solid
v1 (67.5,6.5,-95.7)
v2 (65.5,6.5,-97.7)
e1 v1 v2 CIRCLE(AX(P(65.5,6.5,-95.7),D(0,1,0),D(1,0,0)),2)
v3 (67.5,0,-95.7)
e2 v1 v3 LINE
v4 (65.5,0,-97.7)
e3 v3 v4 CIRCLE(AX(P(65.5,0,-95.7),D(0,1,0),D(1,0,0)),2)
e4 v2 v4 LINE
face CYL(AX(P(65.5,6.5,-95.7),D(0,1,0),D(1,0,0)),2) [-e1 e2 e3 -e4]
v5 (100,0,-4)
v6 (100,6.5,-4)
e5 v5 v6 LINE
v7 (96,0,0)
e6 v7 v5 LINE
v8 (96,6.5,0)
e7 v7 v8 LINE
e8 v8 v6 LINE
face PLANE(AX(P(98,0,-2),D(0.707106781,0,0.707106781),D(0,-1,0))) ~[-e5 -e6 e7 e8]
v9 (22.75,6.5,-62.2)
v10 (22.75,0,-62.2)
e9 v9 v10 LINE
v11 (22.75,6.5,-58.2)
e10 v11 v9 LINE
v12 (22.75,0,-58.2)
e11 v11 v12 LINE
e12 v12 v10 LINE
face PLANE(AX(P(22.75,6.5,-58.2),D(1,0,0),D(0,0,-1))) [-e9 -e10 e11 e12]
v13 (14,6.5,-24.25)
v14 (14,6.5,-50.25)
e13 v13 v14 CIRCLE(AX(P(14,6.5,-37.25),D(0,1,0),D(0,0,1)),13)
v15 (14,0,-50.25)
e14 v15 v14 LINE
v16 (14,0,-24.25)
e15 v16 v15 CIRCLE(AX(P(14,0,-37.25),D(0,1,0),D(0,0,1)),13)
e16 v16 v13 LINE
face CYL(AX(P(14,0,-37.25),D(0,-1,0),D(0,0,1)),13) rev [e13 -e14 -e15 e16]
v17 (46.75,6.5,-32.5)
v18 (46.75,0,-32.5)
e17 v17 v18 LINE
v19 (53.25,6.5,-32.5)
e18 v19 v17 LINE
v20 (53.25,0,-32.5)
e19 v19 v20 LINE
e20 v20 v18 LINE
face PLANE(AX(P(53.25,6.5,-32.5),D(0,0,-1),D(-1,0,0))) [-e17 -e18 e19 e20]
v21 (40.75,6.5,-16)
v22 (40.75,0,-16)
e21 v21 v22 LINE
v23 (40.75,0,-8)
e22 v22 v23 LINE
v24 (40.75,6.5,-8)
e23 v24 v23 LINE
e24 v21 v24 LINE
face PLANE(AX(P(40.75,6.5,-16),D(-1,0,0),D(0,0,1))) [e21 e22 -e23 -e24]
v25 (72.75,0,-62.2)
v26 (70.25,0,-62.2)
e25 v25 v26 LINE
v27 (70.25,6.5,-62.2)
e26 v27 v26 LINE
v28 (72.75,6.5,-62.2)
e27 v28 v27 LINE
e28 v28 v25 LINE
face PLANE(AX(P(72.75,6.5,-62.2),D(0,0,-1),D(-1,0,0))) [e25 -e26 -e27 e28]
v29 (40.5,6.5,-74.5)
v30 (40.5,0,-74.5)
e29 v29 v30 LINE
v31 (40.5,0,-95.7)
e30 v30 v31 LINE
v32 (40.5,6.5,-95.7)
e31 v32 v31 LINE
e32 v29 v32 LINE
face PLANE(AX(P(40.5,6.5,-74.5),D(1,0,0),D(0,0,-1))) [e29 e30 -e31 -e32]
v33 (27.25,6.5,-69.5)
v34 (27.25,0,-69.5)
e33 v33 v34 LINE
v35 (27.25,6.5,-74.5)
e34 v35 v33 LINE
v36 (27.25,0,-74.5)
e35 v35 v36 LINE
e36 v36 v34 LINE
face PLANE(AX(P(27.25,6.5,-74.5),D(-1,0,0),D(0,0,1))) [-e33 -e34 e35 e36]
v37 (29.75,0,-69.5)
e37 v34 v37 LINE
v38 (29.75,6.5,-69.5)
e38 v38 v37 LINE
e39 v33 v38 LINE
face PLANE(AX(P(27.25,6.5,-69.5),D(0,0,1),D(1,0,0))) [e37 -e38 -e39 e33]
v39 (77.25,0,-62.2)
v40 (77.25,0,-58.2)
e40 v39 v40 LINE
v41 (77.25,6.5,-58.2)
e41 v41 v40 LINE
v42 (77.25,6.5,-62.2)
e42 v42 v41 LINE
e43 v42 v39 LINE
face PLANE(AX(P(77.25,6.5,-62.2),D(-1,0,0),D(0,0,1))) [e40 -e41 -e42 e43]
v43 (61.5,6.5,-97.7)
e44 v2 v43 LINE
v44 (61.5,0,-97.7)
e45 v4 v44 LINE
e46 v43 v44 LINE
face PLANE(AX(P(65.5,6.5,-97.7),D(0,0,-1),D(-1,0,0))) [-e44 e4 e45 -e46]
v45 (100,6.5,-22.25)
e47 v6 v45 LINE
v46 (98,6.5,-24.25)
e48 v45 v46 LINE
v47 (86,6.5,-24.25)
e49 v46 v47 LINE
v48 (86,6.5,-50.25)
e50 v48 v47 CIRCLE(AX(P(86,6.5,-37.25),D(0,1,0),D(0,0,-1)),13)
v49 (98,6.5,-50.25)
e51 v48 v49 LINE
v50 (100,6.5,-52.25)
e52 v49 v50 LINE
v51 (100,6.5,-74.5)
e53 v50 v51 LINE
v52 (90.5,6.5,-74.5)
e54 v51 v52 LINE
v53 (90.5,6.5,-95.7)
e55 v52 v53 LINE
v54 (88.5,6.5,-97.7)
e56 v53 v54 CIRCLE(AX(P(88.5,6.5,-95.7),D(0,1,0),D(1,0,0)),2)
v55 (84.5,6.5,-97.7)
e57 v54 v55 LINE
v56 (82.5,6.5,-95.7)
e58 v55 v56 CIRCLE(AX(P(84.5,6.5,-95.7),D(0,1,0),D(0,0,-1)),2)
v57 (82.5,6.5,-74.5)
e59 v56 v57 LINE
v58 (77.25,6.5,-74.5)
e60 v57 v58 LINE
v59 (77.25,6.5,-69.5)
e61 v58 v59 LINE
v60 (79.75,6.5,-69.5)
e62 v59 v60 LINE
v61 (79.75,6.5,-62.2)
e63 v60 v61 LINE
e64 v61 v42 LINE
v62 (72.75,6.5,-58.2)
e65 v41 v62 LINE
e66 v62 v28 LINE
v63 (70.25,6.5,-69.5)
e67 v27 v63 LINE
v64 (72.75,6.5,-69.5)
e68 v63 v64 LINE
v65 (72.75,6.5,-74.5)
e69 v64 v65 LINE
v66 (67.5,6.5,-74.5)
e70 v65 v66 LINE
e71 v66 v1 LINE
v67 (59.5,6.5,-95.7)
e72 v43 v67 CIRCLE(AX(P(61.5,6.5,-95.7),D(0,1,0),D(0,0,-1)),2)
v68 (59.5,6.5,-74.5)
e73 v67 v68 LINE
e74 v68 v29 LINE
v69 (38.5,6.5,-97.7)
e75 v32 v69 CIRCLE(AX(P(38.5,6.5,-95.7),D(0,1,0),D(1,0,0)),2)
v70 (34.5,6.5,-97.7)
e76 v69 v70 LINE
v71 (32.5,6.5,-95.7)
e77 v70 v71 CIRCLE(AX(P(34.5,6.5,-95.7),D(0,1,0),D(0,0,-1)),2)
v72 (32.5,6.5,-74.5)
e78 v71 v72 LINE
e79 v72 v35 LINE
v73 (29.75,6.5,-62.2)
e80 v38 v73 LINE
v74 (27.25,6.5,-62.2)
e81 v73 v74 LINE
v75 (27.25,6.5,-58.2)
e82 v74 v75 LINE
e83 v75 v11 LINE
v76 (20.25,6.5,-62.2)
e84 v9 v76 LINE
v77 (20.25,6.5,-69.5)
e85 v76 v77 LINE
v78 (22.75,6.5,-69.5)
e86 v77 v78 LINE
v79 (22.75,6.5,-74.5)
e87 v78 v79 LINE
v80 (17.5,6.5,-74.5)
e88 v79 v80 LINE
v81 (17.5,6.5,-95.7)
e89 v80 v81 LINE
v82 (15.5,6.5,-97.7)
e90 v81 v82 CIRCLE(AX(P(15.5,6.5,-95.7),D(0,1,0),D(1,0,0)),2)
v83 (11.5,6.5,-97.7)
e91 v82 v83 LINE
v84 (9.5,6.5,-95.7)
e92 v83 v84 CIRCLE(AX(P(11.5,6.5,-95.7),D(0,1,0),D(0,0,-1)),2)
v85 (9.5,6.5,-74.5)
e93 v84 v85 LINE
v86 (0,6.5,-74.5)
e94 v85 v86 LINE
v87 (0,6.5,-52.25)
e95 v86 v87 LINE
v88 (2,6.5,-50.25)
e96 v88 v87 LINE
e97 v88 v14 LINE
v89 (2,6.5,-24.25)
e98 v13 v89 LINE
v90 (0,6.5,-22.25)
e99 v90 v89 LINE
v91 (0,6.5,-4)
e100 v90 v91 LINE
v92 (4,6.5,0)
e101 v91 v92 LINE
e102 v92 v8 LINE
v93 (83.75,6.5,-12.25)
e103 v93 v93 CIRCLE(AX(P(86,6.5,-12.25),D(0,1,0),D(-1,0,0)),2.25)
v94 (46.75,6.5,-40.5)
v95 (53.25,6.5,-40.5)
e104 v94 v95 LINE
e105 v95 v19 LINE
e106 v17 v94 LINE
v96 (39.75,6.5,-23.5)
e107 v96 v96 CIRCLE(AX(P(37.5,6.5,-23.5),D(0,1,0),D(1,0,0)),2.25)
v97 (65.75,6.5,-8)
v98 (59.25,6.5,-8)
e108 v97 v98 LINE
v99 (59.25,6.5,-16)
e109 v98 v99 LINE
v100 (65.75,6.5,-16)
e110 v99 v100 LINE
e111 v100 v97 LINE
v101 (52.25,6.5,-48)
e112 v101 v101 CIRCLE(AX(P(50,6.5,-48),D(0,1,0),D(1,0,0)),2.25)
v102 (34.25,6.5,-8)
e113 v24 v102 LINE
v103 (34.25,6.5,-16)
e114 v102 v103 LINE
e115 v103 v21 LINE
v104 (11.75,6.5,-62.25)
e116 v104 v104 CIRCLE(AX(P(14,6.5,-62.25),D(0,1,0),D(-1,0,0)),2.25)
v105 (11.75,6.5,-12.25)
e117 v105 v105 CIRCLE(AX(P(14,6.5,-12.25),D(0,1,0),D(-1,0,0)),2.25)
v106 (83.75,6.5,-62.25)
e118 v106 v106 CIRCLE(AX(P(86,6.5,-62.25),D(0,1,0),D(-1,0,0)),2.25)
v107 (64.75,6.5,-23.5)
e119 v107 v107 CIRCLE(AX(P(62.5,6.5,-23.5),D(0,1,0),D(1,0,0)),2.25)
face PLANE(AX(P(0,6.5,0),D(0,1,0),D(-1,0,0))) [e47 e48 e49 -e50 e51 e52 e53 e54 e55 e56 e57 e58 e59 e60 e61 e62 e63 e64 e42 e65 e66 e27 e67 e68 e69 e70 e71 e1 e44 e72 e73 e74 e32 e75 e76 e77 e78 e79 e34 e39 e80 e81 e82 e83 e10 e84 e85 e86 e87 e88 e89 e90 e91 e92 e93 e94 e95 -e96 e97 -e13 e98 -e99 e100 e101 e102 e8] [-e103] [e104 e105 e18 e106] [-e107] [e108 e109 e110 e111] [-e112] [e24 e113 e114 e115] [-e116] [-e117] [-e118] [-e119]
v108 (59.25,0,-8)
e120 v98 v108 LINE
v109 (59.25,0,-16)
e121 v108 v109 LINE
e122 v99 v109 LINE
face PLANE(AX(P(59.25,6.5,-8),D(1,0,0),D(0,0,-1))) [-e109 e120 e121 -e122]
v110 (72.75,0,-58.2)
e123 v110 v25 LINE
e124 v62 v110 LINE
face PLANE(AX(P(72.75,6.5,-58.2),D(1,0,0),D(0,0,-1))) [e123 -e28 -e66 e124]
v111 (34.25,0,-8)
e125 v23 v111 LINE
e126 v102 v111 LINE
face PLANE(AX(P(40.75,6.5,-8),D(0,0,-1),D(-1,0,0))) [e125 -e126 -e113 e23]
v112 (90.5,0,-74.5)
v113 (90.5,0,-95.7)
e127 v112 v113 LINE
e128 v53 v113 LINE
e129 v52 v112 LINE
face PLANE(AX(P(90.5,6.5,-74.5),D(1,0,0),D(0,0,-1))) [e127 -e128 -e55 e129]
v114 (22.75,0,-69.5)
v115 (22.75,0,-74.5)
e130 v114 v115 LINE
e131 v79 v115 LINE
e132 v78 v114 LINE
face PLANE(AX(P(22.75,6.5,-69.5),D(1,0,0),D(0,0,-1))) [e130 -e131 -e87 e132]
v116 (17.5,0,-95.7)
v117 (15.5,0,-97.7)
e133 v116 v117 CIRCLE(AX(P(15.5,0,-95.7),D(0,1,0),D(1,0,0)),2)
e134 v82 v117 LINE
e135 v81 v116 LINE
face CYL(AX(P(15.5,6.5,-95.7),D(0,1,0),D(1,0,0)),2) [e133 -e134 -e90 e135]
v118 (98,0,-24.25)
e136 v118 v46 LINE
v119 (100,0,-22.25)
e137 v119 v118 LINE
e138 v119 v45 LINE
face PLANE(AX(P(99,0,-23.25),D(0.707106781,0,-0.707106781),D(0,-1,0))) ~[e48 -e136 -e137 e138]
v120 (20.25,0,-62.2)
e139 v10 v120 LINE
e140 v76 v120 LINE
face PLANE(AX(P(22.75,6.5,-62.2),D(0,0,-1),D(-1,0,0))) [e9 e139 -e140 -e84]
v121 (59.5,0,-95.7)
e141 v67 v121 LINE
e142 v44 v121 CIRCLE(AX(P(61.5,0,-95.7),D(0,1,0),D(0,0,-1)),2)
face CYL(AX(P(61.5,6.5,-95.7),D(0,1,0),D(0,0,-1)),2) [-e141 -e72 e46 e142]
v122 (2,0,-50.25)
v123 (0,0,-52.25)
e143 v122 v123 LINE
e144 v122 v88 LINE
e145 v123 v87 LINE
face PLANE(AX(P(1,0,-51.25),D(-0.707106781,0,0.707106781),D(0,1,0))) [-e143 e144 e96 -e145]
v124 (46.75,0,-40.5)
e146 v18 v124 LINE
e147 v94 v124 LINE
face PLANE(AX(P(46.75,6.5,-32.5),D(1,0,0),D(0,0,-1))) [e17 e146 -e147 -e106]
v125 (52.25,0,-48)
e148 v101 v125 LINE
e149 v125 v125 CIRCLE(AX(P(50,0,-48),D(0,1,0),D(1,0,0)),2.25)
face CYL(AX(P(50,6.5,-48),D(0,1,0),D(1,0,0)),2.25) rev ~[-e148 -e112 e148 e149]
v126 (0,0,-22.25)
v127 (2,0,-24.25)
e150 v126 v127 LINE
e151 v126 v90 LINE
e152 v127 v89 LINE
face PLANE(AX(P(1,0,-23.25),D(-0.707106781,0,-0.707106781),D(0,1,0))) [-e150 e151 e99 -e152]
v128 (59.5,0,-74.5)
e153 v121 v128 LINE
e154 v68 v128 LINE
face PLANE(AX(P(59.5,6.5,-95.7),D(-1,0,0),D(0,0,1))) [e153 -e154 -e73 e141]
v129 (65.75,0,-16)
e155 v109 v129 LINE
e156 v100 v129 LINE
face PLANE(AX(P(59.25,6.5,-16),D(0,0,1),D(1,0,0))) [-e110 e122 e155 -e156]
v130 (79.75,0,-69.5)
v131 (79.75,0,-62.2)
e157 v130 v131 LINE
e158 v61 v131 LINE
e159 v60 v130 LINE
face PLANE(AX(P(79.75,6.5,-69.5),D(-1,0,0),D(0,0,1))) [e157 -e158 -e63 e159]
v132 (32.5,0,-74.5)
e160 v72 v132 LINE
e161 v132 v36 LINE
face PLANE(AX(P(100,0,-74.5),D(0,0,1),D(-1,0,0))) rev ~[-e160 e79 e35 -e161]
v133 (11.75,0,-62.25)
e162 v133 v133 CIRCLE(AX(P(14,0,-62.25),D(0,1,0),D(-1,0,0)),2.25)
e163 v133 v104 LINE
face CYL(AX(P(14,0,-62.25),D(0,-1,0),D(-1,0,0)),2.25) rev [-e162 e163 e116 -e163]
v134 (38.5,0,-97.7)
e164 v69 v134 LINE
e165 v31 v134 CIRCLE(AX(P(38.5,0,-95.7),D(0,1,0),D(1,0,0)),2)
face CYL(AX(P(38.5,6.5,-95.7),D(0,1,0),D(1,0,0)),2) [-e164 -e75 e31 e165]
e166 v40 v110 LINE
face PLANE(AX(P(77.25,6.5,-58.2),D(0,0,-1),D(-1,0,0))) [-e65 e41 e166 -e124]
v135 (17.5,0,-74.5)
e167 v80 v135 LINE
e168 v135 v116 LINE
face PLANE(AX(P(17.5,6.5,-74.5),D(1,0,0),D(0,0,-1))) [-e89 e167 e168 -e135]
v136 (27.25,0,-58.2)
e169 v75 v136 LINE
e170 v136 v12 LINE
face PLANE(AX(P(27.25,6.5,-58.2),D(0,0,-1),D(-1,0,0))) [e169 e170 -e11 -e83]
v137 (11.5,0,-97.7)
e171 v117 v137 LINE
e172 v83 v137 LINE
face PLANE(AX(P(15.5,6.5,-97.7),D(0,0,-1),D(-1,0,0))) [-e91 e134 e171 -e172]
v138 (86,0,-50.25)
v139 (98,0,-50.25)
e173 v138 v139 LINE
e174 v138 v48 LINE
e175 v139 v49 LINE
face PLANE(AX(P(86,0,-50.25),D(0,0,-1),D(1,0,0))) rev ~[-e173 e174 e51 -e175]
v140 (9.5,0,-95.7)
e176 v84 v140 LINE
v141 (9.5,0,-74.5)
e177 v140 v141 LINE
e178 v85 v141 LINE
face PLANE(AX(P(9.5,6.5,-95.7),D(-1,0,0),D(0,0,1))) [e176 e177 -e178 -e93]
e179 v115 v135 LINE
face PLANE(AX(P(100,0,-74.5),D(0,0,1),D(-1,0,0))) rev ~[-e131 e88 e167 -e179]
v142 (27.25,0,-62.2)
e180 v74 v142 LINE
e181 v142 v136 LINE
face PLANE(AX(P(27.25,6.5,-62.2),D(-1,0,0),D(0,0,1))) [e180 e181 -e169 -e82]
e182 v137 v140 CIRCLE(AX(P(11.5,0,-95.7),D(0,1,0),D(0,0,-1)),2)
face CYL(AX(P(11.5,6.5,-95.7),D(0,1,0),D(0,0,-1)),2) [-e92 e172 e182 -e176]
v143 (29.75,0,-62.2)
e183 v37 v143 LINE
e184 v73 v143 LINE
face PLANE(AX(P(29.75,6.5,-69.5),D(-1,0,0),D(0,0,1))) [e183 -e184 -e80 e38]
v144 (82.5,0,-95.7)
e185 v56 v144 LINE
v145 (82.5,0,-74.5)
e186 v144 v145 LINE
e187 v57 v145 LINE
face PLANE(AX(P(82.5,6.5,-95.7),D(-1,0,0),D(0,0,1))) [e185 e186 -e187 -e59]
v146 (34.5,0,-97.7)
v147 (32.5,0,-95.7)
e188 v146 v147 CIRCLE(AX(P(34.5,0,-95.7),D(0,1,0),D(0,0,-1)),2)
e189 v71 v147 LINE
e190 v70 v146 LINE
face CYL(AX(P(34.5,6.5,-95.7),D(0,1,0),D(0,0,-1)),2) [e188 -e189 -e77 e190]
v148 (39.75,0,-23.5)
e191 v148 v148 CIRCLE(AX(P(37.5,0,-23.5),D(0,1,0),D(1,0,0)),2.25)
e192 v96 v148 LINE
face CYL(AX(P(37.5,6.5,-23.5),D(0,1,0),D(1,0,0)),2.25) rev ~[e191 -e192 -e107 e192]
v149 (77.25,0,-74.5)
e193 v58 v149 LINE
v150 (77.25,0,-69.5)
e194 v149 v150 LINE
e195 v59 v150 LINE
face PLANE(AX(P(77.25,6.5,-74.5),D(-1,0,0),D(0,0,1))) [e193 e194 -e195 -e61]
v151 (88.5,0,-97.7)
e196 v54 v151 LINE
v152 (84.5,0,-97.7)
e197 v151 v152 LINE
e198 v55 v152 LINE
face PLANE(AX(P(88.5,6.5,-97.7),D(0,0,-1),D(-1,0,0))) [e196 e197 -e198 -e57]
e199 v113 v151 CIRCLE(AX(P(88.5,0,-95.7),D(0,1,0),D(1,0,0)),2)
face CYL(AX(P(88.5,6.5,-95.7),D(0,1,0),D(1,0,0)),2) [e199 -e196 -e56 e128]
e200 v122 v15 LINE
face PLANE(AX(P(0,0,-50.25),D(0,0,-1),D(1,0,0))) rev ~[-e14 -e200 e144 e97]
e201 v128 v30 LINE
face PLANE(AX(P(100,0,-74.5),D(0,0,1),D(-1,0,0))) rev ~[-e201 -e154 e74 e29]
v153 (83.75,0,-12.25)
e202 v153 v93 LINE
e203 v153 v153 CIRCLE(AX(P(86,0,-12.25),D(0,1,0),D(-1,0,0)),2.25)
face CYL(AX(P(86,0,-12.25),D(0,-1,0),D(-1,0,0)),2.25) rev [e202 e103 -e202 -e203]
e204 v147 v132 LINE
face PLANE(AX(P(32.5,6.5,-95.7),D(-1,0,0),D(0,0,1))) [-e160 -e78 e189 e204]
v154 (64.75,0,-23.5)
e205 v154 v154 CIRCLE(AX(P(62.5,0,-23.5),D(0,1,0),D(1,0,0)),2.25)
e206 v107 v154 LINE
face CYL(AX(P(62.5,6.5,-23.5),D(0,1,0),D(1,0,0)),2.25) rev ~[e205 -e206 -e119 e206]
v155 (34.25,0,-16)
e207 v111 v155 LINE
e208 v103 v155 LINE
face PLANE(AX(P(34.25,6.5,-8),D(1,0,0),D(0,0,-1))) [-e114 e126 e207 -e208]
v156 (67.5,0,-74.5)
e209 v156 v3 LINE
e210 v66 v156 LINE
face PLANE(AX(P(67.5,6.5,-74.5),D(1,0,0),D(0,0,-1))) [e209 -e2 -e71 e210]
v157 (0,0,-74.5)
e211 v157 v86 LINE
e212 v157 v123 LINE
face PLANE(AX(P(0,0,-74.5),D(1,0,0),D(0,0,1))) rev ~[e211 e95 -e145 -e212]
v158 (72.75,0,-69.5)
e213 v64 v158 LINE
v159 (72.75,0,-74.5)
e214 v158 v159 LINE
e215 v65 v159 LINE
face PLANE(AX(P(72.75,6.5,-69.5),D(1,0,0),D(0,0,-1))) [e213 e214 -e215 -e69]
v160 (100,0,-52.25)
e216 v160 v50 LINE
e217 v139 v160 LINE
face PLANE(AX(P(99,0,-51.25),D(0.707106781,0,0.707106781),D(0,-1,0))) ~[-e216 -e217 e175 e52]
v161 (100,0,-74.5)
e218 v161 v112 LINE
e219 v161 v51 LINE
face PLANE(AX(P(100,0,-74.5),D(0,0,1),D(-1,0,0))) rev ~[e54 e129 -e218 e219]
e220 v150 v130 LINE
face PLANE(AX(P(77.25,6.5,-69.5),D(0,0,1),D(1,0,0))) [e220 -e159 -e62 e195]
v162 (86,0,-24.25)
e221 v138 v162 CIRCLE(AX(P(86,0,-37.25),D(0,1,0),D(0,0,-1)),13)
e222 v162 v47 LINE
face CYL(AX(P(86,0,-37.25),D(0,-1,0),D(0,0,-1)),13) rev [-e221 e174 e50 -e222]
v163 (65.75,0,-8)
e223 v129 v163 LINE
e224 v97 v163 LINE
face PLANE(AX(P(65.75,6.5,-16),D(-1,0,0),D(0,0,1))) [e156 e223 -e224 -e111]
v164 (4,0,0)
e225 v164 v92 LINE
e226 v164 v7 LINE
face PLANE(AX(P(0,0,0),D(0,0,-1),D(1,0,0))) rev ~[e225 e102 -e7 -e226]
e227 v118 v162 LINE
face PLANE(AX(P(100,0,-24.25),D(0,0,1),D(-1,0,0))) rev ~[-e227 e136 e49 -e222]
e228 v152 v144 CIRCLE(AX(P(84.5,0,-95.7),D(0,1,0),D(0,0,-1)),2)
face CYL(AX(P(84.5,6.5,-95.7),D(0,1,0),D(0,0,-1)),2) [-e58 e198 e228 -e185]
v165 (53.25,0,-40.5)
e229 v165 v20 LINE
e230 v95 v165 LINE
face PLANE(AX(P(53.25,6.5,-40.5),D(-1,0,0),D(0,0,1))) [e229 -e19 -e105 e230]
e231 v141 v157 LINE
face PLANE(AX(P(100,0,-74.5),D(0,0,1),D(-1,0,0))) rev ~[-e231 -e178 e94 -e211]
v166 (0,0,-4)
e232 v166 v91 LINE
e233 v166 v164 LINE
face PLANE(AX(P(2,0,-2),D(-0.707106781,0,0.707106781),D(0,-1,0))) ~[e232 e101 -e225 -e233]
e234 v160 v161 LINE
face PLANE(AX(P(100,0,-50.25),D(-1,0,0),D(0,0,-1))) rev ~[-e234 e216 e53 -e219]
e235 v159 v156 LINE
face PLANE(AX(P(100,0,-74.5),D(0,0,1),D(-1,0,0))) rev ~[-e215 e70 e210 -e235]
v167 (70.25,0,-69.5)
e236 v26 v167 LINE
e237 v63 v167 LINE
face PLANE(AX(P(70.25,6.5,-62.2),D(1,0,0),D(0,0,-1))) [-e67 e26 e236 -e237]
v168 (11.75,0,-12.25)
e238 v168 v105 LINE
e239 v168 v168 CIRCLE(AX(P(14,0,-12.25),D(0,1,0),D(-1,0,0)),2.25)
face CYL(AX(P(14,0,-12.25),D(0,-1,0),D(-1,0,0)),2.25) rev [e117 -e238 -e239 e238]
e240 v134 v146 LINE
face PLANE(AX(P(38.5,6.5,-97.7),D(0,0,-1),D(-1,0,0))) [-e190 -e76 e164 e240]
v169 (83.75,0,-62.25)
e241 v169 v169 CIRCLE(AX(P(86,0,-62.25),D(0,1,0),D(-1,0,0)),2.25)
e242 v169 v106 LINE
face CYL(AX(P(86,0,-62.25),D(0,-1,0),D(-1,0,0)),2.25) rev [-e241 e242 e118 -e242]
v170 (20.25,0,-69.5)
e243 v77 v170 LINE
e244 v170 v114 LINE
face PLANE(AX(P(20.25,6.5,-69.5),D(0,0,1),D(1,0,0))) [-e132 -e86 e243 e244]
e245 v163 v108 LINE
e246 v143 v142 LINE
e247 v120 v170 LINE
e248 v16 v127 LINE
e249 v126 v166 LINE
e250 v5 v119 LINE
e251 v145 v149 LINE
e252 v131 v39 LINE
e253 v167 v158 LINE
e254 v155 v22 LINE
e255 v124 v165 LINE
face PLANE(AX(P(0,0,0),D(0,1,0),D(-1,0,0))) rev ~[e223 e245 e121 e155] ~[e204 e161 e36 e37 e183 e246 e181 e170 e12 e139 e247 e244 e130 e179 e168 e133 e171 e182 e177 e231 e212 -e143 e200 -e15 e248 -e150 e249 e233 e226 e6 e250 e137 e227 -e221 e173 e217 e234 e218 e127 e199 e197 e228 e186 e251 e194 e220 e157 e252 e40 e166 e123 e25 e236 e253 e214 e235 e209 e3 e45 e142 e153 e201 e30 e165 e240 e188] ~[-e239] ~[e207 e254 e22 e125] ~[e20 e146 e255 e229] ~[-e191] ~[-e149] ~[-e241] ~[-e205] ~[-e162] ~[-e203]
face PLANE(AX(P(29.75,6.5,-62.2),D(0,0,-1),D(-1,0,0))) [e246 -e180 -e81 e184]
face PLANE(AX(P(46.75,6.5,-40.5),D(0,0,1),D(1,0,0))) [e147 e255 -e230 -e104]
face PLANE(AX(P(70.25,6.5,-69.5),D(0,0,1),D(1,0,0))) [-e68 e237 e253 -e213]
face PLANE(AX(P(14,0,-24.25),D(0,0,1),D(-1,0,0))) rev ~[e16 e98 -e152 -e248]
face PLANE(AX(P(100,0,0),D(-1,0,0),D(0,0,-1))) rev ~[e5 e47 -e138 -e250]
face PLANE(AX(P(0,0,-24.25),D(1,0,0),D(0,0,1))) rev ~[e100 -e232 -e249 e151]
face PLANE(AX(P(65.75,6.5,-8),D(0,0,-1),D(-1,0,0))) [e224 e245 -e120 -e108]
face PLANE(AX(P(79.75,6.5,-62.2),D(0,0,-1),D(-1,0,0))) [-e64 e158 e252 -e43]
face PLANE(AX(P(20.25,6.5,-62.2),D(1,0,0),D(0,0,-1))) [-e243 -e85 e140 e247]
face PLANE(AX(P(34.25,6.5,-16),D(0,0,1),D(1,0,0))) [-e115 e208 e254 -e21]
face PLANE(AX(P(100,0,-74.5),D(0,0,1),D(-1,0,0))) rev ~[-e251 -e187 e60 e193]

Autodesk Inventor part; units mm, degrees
ref_plane "YZ Plane" through (0, 0, 0) normal (1, 0, 0) x (0, 1, 0)
ref_plane "XZ Plane" through (0, 0, 0) normal (0, 1, 0) x (-1, 0, 0)
ref_plane "XY Plane" through (0, 0, 0) normal (0, 0, 1) x (1, 0, 0)
sketch "Sketch1" plane through (0, 0, 0) normal (0, 1, 0) x (-1, 0, 0)
  line L0 (0, 0) -> (-100, 0)
  line L1 (-100, 0) -> (-100, -24.25)
  line L2 (-100, -24.25) -> (-86, -24.25)
  arc A0 (-86, -50.25) -> (-86, -24.25) centre (-86, -37.25) ccw
  line L3 (-86, -50.25) -> (-100, -50.25)
  line L4 (-100, -50.25) -> (-100, -74.5)
  line L5 (-100, -74.5) -> (0, -74.5)
  line L6 (0, -74.5) -> (0, -50.25)
  line L7 (0, -50.25) -> (-14, -50.25)
  arc A1 (-14, -24.25) -> (-14, -50.25) centre (-14, -37.25) ccw
  line L8 (-14, -24.25) -> (0, -24.25)
  line L9 (0, -24.25) -> (0, 0)
  circle A2 centre (-14, -62.25) radius 2.25
  circle A3 centre (-14, -12.25) radius 2.25
  circle A4 centre (-86, -62.25) radius 2.25
  circle A5 centre (-86, -12.25) radius 2.25
  dimension "d0" = 13
  dimension "d1" = 50
  dimension "d2" = 4.5
  dimension "d3" = 25
  dimension "d5" = 12.25
  dimension "d6" = 100
  dimension "d10" = 14
extrude "Extrusion1" add sketch "Sketch1" along normal blind 6.5
sketch "Sketch3" plane through (0, 6.5, 0) normal (0, 1, 0) x (1, 0, 0)
  line L0 (100, 74.5) -> (0, 74.5) projected
  line L1 (22.75, 74.5) -> (27.25, 74.5)
  line L2 (27.25, 58.2) -> (22.75, 58.2)
  line L3 (29.75, 69.5) -> (29.75, 62.2)
  line L4 (20.25, 62.2) -> (20.25, 69.5)
  line L5 (27.25, 74.5) -> (27.25, 69.5)
  line L6 (27.25, 62.2) -> (27.25, 58.2)
  line L7 (22.75, 58.2) -> (22.75, 62.2)
  line L8 (22.75, 69.5) -> (22.75, 74.5)
  line L9 (20.25, 69.5) -> (22.75, 69.5)
  line L10 (27.25, 69.5) -> (29.75, 69.5)
  line L11 (29.75, 62.2) -> (27.25, 62.2)
  line L12 (22.75, 62.2) -> (20.25, 62.2)
  line L13 (72.75, 74.5) -> (77.25, 74.5)
  line L14 (77.25, 58.2) -> (72.75, 58.2)
  line L15 (79.75, 69.5) -> (79.75, 62.2)
  line L16 (70.25, 62.2) -> (70.25, 69.5)
  line L17 (77.25, 74.5) -> (77.25, 69.5)
  line L18 (77.25, 62.2) -> (77.25, 58.2)
  line L19 (72.75, 58.2) -> (72.75, 62.2)
  line L20 (72.75, 69.5) -> (72.75, 74.5)
  line L21 (70.25, 69.5) -> (72.75, 69.5)
  line L22 (77.25, 69.5) -> (79.75, 69.5)
  line L23 (79.75, 62.2) -> (77.25, 62.2)
  line L24 (72.75, 62.2) -> (70.25, 62.2)
  line L25 (29.75, 65.85) -> (70.25, 65.85) construction
  point P0 (25, 58.2)
  point P1 (75, 58.2)
  point P2 (50, 65.85)
  point P3 (50, 74.5)
  dimension "d15" = 4.5
  dimension "d16" = 2.5
  dimension "d17" = 4
  dimension "d18" = 5
  dimension "d19" = 7.3
  dimension "d20" = 4.5
  dimension "d21" = 2.5
  dimension "d22" = 4
  dimension "d23" = 5
  dimension "d24" = 7.3
  dimension "d25" = 50
extrude "Extrusion2" cut sketch "Sketch3" against normal through all
sketch "Sketch4" plane through (0, 6.5, 0) normal (0, 1, 0) x (1, 0, 0)
  line L0 (22.75, 74.5) -> (0, 74.5) projected
  line L1 (100, 74.5) -> (77.25, 74.5) projected
  line L2 (77.25, 58.2) -> (72.75, 58.2) projected
  line L3 (72.75, 74.5) -> (27.25, 74.5) projected
  line L4 (27.25, 58.2) -> (22.75, 58.2) projected
  line L5 (9.5, 74.5) -> (17.5, 74.5)
  line L6 (17.5, 74.5) -> (17.5, 95.7)
  line L7 (15.5, 97.7) -> (11.5, 97.7)
  line L8 (9.5, 95.7) -> (9.5, 74.5)
  line L9 (32.5, 74.5) -> (40.5, 74.5)
  line L10 (40.5, 74.5) -> (40.5, 95.7)
  line L11 (38.5, 97.7) -> (34.5, 97.7)
  line L12 (32.5, 95.7) -> (32.5, 74.5)
  line L13 (59.5, 74.5) -> (67.5, 74.5)
  line L14 (67.5, 74.5) -> (67.5, 95.7)
  line L15 (65.5, 97.7) -> (61.5, 97.7)
  line L16 (59.5, 95.7) -> (59.5, 74.5)
  line L17 (82.5, 74.5) -> (90.5, 74.5)
  line L18 (90.5, 74.5) -> (90.5, 95.7)
  line L19 (88.5, 97.7) -> (84.5, 97.7)
  line L20 (82.5, 95.7) -> (82.5, 74.5)
  arc A0 (11.5, 97.7) -> (9.5, 95.7) centre (11.5, 95.7) ccw
  arc A1 (17.5, 95.7) -> (15.5, 97.7) centre (15.5, 95.7) ccw
  arc A2 (34.5, 97.7) -> (32.5, 95.7) centre (34.5, 95.7) ccw
  arc A3 (40.5, 95.7) -> (38.5, 97.7) centre (38.5, 95.7) ccw
  arc A4 (61.5, 97.7) -> (59.5, 95.7) centre (61.5, 95.7) ccw
  arc A5 (67.5, 95.7) -> (65.5, 97.7) centre (65.5, 95.7) ccw
  arc A6 (84.5, 97.7) -> (82.5, 95.7) centre (84.5, 95.7) ccw
  arc A7 (90.5, 95.7) -> (88.5, 97.7) centre (88.5, 95.7) ccw
  point P0 (25, 58.2)
  point P1 (75, 58.2)
  dimension "d28" = 2
  dimension "d29" = 23.2
  dimension "d30" = 8
  dimension "d31" = 8
  dimension "d32" = 8
  dimension "d33" = 8
  dimension "d34" = 15
  dimension "d35" = 15
  dimension "d36" = 7.5
  dimension "d37" = 7.5
extrude "Extrusion3" add sketch "Sketch4" against normal blind 6.5
chamfer "Chamfer1" distance 4 angle 45 2 edges at (100, 3.25, 0) (0, 3.25, 0)
chamfer "Chamfer2" distance 2 angle 45 4 edges at (100, 3.25, -24.25) (100, 3.25, -50.25) (0, 3.25, -50.25) (0, 3.25, -24.25)
sketch "Sketch5" plane through (0, 6.5, 0) normal (0, 1, 0) x (1, 0, 0)
  line L0 (4, 0) -> (96, 0) projected
  line L1 (34.25, 16) -> (40.75, 16)
  line L2 (40.75, 16) -> (40.75, 8)
  line L3 (40.75, 8) -> (34.25, 8)
  line L4 (34.25, 8) -> (34.25, 16)
  line L5 (59.25, 16) -> (65.75, 16)
  line L6 (65.75, 16) -> (65.75, 8)
  line L7 (65.75, 8) -> (59.25, 8)
  line L8 (59.25, 8) -> (59.25, 16)
  circle A0 centre (37.5, 23.5) radius 2.25
  circle A1 centre (62.5, 23.5) radius 2.25
  line L9 (37.5, 23.5) -> (62.5, 23.5) construction
  point P0 (0, 0)
  point P1 (37.5, 16)
  point P2 (62.5, 16)
  point P3 (50, 23.5)
  point P4 (50, 0)
  dimension "d46" = 4.5
  dimension "d47" = 6.5
  dimension "d48" = 8
  dimension "d49" = 25
  dimension "d50" = 8
  dimension "d51" = 7.5
extrude "Extrusion4" cut sketch "Sketch5" against normal through all
sketch "Sketch6" plane through (0, 6.5, 0) normal (0, 1, 0) x (1, 0, 0)
  line L0 (59.5, 74.5) -> (40.5, 74.5) projected
  line L1 (46.75, 40.5) -> (53.25, 40.5)
  line L2 (53.25, 40.5) -> (53.25, 32.5)
  line L3 (53.25, 32.5) -> (46.75, 32.5)
  line L4 (46.75, 32.5) -> (46.75, 40.5)
  circle A0 centre (50, 48) radius 2.25
  point P0 (0, 0)
  point P1 (50, 74.5)
  point P2 (50, 40.5)
  dimension "d54" = 6.5
  dimension "d55" = 8
  dimension "d56" = 4.5
  dimension "d57" = 7.5
  dimension "d58" = 34
extrude "Extrusion5" cut sketch "Sketch6" against normal through all
equation "\"d3\" = 0.5 * d1"
equation "\"d31\" = d30"
equation "\"d32\" = d31"
equation "\"d33\" = d32"
equation "\"d36\" = 0.5 * d34"
equation "\"d37\" = 0.5 * d35"
properties part number "x_carryage_extruder_mount"
